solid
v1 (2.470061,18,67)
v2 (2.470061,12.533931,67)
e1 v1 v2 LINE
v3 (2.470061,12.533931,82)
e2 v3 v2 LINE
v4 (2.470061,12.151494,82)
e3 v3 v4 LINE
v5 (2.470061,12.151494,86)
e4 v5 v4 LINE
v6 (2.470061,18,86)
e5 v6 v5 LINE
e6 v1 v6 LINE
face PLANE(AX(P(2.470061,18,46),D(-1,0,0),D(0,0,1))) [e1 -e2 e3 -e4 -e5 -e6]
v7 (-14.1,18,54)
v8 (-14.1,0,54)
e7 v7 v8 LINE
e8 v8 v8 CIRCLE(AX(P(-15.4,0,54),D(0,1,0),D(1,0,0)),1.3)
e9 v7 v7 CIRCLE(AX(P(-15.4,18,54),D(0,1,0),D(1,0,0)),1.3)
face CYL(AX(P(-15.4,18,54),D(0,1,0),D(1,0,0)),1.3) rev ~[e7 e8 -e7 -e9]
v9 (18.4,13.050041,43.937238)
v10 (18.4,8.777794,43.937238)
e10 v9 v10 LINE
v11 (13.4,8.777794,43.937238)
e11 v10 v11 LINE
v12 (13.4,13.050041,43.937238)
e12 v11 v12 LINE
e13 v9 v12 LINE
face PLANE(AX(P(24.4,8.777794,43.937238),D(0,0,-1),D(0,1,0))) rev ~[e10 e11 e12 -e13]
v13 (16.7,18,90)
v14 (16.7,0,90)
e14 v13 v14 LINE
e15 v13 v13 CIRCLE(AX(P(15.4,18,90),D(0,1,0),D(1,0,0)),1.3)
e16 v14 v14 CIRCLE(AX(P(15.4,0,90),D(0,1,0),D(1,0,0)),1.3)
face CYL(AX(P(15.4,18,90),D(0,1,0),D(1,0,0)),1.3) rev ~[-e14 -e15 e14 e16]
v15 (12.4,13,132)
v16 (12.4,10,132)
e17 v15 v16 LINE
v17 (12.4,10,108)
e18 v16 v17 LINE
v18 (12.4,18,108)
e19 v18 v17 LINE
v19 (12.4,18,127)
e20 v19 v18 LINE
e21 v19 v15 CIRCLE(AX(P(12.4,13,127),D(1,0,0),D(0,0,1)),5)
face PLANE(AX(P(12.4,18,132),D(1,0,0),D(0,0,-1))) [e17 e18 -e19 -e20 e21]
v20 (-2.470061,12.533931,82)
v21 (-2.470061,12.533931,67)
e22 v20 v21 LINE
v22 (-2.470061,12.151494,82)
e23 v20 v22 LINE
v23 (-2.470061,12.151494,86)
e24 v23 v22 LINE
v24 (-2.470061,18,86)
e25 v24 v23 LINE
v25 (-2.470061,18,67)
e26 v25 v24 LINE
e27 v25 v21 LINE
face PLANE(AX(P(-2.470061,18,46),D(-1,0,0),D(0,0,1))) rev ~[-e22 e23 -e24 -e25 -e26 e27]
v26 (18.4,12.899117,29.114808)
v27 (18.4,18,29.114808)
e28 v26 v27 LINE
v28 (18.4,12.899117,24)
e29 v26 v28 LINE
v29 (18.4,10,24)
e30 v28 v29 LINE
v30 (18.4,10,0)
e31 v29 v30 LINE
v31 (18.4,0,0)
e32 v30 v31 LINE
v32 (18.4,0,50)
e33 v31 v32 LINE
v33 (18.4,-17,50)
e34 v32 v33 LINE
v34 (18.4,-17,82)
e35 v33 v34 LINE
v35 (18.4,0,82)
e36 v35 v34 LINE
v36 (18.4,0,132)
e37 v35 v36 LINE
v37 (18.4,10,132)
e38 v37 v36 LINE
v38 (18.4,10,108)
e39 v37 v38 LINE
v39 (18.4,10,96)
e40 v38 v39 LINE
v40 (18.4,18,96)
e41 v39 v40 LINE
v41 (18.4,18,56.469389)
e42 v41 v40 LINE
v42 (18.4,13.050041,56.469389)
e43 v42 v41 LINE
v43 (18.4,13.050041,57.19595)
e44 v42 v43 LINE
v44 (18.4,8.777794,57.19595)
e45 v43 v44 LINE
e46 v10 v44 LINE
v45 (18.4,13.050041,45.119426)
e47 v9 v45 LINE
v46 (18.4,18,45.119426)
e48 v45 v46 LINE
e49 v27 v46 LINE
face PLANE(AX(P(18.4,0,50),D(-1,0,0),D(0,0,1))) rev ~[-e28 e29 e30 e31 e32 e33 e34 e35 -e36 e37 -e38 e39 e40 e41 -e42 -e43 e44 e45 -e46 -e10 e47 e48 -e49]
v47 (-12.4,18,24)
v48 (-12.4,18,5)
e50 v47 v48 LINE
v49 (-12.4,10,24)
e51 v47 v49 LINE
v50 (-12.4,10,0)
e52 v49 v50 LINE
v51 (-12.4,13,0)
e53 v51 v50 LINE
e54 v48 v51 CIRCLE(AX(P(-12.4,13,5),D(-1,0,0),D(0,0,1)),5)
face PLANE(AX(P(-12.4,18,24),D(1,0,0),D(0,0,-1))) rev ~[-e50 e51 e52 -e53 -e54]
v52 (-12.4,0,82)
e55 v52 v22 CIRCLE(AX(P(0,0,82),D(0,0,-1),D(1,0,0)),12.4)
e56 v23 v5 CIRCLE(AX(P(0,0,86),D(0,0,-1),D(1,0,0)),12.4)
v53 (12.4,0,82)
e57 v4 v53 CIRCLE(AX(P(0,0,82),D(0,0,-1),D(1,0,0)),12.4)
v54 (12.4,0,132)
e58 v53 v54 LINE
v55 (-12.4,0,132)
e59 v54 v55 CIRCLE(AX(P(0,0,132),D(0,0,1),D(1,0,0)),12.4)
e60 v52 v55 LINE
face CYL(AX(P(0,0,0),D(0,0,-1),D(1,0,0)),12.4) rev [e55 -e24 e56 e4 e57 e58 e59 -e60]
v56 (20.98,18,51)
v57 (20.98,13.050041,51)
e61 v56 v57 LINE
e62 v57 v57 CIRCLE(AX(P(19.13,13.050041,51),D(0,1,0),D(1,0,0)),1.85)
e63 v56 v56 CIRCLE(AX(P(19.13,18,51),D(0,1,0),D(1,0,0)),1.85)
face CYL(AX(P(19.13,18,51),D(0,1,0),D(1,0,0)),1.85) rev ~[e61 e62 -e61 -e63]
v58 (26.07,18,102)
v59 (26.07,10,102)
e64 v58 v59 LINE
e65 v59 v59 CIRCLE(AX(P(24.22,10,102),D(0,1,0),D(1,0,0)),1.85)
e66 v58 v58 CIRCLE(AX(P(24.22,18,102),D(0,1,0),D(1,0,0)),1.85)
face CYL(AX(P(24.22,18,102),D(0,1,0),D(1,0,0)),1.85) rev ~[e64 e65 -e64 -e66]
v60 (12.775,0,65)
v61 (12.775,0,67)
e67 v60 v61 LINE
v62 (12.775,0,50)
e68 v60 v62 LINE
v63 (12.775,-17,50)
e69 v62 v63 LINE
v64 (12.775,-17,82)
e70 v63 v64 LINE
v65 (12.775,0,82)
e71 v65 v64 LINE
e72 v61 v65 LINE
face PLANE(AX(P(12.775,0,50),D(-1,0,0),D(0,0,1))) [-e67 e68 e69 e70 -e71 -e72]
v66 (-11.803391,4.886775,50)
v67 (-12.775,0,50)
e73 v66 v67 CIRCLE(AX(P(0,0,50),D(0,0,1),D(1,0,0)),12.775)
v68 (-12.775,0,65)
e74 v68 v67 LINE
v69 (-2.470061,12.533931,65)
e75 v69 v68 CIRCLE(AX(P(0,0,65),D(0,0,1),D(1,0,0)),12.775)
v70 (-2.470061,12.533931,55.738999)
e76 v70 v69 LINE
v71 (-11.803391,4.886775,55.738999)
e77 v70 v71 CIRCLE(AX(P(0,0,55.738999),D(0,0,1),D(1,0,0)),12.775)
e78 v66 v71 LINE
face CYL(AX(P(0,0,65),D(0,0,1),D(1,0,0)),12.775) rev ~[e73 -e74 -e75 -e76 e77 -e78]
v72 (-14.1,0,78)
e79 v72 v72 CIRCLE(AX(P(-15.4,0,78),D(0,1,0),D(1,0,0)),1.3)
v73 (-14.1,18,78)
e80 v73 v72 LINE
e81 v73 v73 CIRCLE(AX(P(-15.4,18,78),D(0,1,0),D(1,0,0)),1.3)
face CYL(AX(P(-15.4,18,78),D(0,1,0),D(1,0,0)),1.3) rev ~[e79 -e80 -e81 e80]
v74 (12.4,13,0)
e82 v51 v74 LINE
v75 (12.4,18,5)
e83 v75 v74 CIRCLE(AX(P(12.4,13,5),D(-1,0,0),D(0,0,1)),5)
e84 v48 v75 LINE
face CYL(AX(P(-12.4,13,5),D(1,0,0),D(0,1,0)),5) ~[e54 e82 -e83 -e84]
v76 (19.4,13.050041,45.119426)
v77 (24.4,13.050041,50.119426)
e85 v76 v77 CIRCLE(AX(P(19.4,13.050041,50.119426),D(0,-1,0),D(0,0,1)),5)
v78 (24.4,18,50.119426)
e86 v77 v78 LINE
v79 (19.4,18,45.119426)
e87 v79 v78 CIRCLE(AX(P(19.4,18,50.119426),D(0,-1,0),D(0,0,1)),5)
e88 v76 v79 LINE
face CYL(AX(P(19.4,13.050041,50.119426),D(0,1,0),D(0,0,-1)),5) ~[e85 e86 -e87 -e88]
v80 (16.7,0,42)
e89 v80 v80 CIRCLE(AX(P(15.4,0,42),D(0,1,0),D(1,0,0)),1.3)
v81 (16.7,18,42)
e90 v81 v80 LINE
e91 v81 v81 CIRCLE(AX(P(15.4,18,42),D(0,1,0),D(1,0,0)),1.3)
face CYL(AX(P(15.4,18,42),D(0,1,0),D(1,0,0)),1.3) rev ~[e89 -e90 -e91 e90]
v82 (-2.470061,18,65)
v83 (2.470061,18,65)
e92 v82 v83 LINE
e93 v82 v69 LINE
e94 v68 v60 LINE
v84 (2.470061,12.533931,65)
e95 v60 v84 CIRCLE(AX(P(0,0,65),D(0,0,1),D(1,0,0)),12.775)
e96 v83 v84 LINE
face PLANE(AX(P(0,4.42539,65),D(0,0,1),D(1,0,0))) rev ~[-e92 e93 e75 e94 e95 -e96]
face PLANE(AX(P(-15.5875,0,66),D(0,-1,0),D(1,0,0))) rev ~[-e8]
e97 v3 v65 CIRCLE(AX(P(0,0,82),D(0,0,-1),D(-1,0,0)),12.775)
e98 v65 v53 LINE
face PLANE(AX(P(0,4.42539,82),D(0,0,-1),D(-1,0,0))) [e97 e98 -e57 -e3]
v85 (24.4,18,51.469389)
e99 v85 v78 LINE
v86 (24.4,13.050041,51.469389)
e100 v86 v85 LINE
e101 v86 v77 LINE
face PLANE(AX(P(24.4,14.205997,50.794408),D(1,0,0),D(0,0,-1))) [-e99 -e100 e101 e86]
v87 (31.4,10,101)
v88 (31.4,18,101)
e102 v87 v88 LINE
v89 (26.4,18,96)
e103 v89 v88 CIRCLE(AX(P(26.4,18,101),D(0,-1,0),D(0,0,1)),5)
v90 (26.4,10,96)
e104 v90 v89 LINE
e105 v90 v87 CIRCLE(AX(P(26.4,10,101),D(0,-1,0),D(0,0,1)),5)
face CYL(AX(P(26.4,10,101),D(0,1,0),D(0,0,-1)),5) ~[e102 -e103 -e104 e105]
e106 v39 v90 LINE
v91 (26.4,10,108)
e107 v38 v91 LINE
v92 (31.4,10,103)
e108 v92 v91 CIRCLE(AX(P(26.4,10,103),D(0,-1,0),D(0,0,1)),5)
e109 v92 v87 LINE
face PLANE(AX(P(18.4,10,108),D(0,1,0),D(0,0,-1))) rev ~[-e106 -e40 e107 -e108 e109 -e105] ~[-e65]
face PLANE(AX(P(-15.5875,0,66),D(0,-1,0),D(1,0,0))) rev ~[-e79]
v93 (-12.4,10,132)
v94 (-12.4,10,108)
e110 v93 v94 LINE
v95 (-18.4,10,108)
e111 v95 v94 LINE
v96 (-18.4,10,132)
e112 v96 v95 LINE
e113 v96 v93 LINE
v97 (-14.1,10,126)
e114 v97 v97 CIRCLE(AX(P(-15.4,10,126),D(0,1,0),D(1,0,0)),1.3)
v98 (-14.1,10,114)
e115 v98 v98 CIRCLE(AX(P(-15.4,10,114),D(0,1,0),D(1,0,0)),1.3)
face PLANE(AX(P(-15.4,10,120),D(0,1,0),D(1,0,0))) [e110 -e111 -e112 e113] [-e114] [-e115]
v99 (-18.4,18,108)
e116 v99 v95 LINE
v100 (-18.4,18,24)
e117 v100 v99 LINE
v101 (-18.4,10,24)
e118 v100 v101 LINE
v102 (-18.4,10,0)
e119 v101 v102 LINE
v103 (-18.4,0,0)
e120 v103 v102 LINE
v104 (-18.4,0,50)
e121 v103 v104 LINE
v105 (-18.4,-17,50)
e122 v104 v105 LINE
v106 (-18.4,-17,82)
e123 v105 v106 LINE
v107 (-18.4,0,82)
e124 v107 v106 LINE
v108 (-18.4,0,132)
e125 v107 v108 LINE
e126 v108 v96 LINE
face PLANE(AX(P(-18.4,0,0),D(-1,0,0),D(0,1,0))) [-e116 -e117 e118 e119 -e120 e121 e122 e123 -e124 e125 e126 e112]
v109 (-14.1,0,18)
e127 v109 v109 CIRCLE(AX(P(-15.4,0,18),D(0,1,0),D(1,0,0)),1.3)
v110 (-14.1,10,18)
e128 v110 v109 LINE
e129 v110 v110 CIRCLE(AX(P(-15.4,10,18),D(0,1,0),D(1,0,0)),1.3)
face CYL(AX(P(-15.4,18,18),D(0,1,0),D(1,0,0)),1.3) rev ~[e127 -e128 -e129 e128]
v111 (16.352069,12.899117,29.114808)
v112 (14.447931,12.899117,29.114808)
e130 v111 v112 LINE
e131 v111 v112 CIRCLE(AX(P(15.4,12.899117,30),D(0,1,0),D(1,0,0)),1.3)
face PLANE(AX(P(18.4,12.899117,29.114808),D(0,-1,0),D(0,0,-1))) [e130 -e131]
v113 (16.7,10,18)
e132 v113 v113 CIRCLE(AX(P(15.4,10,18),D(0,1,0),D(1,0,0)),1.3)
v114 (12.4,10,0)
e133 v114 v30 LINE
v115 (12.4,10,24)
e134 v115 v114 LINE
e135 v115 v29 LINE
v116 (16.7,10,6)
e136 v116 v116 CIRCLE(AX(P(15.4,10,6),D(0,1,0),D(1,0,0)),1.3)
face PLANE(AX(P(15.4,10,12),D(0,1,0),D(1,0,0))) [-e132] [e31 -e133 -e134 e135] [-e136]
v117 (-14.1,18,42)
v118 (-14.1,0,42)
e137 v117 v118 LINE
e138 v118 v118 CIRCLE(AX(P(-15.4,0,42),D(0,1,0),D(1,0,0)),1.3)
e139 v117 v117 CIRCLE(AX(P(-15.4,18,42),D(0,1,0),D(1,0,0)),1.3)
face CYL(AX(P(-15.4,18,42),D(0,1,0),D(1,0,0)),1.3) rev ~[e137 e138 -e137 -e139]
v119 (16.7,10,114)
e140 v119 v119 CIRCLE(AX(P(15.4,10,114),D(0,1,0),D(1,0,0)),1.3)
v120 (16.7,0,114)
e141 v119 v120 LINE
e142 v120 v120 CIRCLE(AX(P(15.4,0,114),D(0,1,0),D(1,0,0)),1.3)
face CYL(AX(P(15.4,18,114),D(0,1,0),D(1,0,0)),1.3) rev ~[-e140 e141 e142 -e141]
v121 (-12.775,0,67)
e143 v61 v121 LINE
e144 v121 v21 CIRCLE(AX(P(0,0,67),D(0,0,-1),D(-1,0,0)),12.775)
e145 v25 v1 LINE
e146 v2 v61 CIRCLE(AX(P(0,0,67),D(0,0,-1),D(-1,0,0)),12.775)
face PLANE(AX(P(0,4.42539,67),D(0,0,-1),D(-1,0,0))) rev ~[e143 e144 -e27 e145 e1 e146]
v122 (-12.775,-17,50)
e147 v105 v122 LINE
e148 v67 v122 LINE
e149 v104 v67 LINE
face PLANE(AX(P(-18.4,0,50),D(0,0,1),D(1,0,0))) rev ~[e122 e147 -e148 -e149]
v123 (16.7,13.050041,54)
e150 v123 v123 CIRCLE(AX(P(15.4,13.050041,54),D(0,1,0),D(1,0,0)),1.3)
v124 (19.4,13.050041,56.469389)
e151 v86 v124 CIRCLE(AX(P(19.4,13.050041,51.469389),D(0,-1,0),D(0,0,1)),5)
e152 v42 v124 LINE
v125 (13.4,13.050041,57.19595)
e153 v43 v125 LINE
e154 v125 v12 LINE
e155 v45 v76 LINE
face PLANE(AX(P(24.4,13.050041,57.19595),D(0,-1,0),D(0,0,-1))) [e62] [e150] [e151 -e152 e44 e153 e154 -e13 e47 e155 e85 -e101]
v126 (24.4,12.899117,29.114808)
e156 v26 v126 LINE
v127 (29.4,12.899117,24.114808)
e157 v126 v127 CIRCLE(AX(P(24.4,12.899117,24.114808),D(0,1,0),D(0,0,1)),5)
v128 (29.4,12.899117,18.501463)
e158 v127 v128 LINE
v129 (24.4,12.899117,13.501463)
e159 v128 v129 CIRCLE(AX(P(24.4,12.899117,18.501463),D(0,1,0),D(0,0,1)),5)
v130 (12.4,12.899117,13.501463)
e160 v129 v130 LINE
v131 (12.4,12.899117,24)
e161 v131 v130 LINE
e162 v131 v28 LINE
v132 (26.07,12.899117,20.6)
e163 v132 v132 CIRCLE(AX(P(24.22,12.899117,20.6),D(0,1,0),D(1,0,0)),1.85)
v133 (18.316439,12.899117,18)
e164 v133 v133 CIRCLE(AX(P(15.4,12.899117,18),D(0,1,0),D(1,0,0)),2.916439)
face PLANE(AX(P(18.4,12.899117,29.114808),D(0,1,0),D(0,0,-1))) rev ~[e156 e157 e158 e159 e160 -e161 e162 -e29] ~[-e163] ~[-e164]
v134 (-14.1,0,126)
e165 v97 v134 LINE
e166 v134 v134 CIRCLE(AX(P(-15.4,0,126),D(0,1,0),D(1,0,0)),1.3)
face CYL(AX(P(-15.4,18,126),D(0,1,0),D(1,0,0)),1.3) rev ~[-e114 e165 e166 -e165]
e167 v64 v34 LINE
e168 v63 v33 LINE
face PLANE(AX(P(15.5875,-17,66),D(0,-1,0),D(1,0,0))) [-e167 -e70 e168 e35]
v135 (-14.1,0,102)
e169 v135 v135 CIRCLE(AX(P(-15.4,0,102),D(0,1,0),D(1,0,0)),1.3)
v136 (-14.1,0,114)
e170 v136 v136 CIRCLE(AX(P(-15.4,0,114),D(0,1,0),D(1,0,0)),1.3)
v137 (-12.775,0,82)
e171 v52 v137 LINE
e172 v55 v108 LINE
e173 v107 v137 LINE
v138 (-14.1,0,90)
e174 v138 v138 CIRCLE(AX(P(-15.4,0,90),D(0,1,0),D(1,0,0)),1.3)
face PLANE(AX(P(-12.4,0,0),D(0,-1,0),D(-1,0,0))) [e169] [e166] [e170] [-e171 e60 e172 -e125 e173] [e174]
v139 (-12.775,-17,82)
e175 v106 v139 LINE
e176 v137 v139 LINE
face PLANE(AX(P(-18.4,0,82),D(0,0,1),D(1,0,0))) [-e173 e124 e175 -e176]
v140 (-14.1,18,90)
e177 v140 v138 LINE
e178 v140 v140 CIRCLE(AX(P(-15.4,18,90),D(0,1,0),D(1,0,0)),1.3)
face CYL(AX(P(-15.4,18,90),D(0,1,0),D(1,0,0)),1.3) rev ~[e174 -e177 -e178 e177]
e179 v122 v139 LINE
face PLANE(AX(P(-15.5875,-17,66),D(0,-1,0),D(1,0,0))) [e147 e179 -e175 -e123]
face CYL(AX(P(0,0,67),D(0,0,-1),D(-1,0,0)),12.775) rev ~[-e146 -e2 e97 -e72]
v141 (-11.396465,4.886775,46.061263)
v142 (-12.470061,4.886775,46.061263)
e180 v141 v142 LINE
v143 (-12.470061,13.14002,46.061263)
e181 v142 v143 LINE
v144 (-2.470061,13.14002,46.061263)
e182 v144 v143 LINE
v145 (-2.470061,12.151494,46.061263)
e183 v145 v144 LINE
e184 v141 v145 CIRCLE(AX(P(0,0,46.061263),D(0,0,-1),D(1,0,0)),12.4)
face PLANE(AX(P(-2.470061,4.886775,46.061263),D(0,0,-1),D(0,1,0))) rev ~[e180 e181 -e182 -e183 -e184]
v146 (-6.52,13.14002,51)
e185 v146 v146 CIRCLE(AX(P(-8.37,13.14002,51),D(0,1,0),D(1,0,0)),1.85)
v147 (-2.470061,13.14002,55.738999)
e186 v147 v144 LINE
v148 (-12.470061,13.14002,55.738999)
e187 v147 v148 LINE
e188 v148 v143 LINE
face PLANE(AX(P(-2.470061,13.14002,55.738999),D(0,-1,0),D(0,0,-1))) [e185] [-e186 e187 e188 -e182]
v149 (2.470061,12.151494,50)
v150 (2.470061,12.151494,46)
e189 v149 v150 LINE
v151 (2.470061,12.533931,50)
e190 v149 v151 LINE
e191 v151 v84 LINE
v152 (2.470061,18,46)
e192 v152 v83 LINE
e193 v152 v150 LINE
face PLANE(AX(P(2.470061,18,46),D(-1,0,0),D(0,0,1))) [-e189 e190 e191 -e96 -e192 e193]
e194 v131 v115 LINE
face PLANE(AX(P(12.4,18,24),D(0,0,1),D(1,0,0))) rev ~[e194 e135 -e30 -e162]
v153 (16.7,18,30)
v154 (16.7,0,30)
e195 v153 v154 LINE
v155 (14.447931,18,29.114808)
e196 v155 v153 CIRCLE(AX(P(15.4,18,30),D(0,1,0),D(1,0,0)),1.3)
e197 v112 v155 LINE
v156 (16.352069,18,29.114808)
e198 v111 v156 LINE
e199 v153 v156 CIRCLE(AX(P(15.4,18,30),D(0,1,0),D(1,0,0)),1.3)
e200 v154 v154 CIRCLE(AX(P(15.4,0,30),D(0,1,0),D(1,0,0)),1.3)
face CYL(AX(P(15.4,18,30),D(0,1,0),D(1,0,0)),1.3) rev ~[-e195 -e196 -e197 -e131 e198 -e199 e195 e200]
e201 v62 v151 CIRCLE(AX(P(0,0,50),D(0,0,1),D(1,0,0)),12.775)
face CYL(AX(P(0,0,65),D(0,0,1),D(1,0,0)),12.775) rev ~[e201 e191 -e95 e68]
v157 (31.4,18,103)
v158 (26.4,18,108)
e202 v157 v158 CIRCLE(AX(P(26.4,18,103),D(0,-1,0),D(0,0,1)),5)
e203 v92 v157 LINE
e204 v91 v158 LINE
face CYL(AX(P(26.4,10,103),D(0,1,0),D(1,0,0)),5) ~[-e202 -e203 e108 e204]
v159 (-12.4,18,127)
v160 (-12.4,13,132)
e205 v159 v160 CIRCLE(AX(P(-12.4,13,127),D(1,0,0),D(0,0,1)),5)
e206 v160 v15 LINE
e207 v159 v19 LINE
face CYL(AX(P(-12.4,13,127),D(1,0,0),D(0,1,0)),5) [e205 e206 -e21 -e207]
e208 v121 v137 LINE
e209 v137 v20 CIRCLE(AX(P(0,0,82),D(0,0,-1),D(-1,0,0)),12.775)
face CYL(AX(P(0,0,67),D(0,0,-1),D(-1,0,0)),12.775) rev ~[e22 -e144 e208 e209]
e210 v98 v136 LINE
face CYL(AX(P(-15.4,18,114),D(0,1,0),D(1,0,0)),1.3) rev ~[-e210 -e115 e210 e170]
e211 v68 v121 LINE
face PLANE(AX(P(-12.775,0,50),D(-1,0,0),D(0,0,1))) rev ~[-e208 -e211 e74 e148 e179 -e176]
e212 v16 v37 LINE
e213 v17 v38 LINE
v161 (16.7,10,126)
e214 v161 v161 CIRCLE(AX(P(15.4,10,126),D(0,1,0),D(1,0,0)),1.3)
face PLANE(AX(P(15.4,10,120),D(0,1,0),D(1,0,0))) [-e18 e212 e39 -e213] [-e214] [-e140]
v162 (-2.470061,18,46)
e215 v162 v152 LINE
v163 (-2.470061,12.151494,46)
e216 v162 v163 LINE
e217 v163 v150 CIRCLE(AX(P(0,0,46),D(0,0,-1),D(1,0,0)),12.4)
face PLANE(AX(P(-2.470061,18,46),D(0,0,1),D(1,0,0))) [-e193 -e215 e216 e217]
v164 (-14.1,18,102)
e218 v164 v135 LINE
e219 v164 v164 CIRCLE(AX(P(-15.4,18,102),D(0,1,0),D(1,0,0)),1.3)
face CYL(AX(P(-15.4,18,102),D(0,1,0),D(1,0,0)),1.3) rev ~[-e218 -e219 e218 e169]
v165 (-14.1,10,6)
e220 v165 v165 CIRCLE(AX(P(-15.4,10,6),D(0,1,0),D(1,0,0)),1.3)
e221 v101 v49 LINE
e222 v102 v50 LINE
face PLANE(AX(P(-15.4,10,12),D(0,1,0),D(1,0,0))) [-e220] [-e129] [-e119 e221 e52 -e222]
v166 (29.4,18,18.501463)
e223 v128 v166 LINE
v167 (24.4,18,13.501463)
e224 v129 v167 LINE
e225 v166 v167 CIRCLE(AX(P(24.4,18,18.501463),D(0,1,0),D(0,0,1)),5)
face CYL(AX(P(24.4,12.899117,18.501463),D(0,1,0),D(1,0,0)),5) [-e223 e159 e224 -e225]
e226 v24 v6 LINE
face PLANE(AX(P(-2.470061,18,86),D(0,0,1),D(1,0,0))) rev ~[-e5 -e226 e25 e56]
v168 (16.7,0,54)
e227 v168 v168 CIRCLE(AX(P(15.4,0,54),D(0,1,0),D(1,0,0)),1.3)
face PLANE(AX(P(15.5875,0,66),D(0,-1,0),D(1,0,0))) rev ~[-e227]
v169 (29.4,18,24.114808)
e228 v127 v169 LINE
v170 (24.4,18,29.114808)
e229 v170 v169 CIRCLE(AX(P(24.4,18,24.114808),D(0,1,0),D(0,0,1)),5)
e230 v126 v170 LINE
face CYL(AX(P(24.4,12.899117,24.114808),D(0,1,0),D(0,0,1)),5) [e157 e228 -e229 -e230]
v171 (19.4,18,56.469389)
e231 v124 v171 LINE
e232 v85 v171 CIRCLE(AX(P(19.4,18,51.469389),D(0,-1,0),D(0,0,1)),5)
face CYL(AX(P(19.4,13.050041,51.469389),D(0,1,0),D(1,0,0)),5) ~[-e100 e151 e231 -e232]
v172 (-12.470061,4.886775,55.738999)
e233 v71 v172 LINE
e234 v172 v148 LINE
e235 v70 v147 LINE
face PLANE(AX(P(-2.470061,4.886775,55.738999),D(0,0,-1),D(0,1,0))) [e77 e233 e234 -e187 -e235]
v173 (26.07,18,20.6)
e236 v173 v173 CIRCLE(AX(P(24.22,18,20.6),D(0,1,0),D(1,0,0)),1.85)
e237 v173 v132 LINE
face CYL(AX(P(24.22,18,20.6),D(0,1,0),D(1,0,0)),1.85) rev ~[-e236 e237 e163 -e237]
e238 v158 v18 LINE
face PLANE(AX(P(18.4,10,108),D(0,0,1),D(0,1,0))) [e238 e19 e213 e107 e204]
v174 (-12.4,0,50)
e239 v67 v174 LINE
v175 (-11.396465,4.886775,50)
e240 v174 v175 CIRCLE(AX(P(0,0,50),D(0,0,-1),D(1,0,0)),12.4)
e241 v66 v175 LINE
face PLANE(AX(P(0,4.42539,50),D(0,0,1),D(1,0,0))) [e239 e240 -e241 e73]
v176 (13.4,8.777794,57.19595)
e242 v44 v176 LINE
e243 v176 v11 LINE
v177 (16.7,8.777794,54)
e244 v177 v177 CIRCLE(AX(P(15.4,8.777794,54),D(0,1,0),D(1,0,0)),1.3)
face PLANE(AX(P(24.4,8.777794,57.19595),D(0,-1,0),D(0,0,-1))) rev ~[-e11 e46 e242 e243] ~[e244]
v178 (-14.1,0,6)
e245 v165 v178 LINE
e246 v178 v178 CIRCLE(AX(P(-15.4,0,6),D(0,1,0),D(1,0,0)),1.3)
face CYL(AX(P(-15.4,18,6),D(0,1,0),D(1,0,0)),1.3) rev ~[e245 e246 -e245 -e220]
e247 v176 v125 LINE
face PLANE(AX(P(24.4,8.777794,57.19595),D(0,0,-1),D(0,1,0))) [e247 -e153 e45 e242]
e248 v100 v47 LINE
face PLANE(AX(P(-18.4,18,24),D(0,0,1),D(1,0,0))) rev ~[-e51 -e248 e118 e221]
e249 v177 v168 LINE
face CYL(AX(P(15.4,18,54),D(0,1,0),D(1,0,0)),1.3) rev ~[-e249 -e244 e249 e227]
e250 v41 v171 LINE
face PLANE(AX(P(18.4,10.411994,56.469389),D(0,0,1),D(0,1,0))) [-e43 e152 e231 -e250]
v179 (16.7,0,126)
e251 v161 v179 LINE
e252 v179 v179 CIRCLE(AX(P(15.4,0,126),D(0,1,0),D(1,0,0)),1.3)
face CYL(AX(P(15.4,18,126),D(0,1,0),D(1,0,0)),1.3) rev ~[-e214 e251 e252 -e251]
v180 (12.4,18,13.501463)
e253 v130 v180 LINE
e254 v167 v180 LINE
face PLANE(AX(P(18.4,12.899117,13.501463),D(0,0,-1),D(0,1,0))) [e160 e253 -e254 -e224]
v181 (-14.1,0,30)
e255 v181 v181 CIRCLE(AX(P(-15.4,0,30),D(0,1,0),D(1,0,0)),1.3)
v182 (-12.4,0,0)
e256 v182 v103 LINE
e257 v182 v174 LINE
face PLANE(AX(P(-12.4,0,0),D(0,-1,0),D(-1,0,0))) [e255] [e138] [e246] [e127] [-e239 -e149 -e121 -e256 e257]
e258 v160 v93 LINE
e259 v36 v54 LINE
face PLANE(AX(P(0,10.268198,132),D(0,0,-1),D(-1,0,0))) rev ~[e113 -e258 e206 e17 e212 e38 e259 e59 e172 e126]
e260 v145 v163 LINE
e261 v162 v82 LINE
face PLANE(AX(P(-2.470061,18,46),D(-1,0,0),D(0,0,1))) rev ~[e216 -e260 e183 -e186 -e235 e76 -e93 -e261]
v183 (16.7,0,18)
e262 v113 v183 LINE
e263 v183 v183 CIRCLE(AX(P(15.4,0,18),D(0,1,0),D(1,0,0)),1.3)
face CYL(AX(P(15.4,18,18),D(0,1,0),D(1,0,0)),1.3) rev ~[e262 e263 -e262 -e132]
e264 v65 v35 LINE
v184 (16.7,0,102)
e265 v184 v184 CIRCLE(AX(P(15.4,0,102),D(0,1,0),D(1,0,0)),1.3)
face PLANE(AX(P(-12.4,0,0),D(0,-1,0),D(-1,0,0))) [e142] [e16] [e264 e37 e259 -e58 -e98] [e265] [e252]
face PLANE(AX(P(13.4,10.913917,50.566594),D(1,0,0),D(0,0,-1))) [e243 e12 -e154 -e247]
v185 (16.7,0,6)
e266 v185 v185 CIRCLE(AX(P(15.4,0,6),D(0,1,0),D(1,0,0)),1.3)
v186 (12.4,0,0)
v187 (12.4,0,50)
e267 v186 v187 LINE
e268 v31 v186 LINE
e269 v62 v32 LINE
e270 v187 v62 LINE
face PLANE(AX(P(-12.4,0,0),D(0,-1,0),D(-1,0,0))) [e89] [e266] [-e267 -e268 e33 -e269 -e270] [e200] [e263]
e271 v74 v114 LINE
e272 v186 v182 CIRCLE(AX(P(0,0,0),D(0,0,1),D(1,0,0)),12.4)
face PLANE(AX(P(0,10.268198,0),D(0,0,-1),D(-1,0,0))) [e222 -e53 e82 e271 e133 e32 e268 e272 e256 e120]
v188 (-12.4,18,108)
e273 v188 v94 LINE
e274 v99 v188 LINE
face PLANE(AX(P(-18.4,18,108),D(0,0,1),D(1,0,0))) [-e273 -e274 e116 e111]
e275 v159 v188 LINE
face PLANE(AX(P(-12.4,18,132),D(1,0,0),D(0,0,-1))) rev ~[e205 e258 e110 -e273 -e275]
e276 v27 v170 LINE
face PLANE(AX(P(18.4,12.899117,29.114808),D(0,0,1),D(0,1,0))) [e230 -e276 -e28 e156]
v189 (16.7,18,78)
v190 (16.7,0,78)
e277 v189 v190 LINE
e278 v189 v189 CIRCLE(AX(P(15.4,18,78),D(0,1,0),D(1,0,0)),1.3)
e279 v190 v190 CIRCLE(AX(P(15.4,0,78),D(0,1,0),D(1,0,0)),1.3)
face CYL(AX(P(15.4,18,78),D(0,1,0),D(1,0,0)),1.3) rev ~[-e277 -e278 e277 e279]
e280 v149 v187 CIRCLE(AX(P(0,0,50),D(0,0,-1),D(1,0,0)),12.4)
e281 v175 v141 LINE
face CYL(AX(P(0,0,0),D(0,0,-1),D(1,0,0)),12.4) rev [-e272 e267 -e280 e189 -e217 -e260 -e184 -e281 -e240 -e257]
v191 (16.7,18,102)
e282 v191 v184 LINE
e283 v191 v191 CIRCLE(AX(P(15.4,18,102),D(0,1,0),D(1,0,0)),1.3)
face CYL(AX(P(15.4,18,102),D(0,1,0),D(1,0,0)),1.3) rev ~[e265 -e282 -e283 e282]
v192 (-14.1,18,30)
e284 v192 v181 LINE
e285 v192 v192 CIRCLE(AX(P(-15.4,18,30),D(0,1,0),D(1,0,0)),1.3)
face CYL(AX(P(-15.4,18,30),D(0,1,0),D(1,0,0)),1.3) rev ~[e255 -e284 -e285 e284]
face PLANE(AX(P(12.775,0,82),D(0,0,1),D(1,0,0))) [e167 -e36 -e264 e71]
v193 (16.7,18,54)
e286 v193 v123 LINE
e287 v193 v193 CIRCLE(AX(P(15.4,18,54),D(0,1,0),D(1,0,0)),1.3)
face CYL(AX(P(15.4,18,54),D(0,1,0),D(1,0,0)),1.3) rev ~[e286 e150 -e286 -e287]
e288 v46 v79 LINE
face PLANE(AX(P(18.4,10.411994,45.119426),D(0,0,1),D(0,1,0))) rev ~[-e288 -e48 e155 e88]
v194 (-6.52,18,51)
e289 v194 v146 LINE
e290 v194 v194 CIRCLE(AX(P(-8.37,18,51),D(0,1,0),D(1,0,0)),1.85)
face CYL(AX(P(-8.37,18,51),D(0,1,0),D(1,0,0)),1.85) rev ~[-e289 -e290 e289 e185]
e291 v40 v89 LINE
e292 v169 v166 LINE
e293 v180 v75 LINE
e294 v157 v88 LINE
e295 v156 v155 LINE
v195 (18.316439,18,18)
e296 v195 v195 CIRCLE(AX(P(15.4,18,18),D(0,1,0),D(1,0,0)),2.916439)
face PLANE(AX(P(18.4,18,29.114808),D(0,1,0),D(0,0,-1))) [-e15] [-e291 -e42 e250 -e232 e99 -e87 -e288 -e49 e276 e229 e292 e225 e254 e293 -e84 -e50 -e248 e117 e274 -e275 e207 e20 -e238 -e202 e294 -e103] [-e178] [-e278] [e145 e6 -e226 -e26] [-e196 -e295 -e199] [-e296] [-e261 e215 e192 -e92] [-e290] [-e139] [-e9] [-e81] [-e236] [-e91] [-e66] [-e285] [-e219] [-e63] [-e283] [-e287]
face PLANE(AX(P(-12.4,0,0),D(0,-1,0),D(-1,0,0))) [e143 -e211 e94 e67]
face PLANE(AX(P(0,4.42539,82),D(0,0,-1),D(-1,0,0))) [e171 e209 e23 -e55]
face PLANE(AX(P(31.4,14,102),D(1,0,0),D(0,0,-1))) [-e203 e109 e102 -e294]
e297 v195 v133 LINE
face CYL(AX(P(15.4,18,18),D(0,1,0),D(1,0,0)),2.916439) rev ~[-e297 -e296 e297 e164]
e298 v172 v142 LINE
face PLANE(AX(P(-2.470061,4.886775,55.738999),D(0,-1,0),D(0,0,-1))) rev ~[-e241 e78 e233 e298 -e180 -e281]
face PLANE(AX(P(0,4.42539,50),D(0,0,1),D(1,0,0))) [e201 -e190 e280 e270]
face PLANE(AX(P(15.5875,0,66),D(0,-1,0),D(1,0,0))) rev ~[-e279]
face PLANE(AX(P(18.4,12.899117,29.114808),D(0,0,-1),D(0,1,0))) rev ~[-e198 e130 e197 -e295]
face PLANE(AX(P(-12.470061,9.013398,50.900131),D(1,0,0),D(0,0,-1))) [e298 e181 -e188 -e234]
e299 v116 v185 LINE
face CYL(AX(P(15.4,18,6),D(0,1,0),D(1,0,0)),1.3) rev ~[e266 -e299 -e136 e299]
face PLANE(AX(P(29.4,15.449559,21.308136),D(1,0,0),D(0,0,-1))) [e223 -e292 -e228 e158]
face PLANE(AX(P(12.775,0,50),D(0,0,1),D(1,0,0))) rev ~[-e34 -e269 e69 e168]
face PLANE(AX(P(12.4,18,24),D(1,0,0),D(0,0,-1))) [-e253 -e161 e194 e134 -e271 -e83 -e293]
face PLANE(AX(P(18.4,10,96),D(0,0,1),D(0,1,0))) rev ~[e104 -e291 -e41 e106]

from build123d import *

# Parameters (mm, degrees)
BOSS_EXTRU_1_DEPTH      = 132
ESQUISSE3_W             = 4.94012132
ESQUISSE3_H             = 40
ENL_V_MAT_EXTRU_2_DEPTH = 9
ESQUISSE4_R             = 1.3
ENL_V_MAT_EXTRU_3_DEPTH = 18
ESQUISSE5_W             = 6
ESQUISSE5_H             = 24
ENL_V_MAT_EXTRU_4_DEPTH = 8
BOSS_EXTRU_2_REACH      = 38.8
ESQUISSE7_W             = 2
ESQUISSE7_H             = 18
ENL_V_MAT_EXTRU_5_DEPTH = 15
ENL_V_MAT_EXTRU_6_DEPTH = 15
ESQUISSE10_W            = 5.625
ESQUISSE10_H            = 32
BOSS_EXTRU_3_DEPTH      = 17
ESQUISSE12_W            = 12
ESQUISSE12_H            = 8
BOSS_EXTRU_4_DEPTH      = 13
ESQUISSE14_W            = 11.349962924
ESQUISSE14_H            = 7.588006138
BOSS_EXTRU_5_DEPTH      = 6
ESQUISSE16_W            = 13.258712606
ESQUISSE16_H            = 4.272246905
ENL_V_MAT_EXTRU_7_DEPTH = 11
ESQUISSE17_W            = 15.613345165
ESQUISSE17_H            = 5.100882875
BOSS_EXTRU_6_DEPTH      = 11
BOSS_EXTRU_6_DEPTH_BACK = 11
ESQUISSE11_R            = 1.85
ESQUISSE11_R_2          = 1.3
ESQUISSE11_R_3          = 2.916438904
ENL_V_MAT_EXTRU_8_DEPTH = 8
CONG_1_R                = 5
ESQUISSE18_W            = 9.677736186
ESQUISSE18_H            = 8.253244783
ENL_V_MAT_EXTRU_9_DEPTH = 10
CONG_2_R                = 5


with BuildPart() as part:
    # Esquisse1 → Boss.-Extru.1 (new body)
    with BuildSketch(Plane.XY):
        with BuildLine():
            Line((-12.4, 0), (-18.4, 0))
            Line((-18.4, 0), (-18.4, 18))
            Line((-18.4, 18), (18.4, 18))
            Line((18.4, 18), (18.4, 0))
            Line((18.4, 0), (12.4, 0))
            ThreePointArc((12.4, 0), (0, 12.4), (-12.4, 0))
        make_face()
    extrude(amount=BOSS_EXTRU_1_DEPTH)

    # Esquisse3 → Enlèv. mat.-Extru.2 (cut)
    with BuildSketch(Plane.XZ.offset(-18)):
        with Locations((0, 66)):
            Rectangle(ESQUISSE3_W, ESQUISSE3_H)
    extrude(amount=ENL_V_MAT_EXTRU_2_DEPTH, mode=Mode.SUBTRACT)

    # Esquisse4 → Enlèv. mat.-Extru.3 (cut)
    with BuildSketch(Plane(origin=(0, 18, 0), x_dir=(1, 0, 0), z_dir=(0, 1, 0))):
        with Locations((15.4, -6)):
            Circle(ESQUISSE4_R)
        with Locations((15.4, -18)):
            Circle(ESQUISSE4_R)
        with Locations((-15.4, -6)):
            Circle(ESQUISSE4_R)
        with Locations((-15.4, -18)):
            Circle(ESQUISSE4_R)
        with Locations((15.4, -30)):
            Circle(ESQUISSE4_R)
        with Locations((-15.4, -30)):
            Circle(ESQUISSE4_R)
        with Locations((15.4, -42)):
            Circle(ESQUISSE4_R)
        with Locations((-15.4, -42)):
            Circle(ESQUISSE4_R)
        with Locations((15.4, -54)):
            Circle(ESQUISSE4_R)
        with Locations((-15.4, -54)):
            Circle(ESQUISSE4_R)
        with Locations((-15.4, -126)):
            Circle(ESQUISSE4_R)
        with Locations((-15.4, -114)):
            Circle(ESQUISSE4_R)
        with Locations((-15.4, -102)):
            Circle(ESQUISSE4_R)
        with Locations((-15.4, -90)):
            Circle(ESQUISSE4_R)
        with Locations((-15.4, -78)):
            Circle(ESQUISSE4_R)
        with Locations((15.4, -78)):
            Circle(ESQUISSE4_R)
        with Locations((15.4, -90)):
            Circle(ESQUISSE4_R)
        with Locations((15.4, -102)):
            Circle(ESQUISSE4_R)
        with Locations((15.4, -114)):
            Circle(ESQUISSE4_R)
        with Locations((15.4, -126)):
            Circle(ESQUISSE4_R)
    extrude(amount=-ENL_V_MAT_EXTRU_3_DEPTH, mode=Mode.SUBTRACT)

    # Esquisse5 → Enlèv. mat.-Extru.4 (cut)
    with BuildSketch(Plane(origin=(0, 18, 0), x_dir=(1, 0, 0), z_dir=(0, 1, 0))):
        with Locations((15.4, -12)):
            Rectangle(ESQUISSE5_W, ESQUISSE5_H)
        with Locations((-15.4, -120)):
            Rectangle(ESQUISSE5_W, ESQUISSE5_H)
        with Locations((-15.4, -12)):
            Rectangle(ESQUISSE5_W, ESQUISSE5_H)
        with Locations((15.4, -120)):
            Rectangle(ESQUISSE5_W, ESQUISSE5_H)
    extrude(amount=-ENL_V_MAT_EXTRU_4_DEPTH, mode=Mode.SUBTRACT)

    # Esquisse7 → Boss.-Extru.2 (add, up to next)
    with BuildSketch(Plane.ZY.offset(18.4), mode=Mode.PRIVATE) as boss_extru_2_sk1:
        with Locations((66, 9)):
            Rectangle(ESQUISSE7_W, ESQUISSE7_H)
    boss_extru_2_tool1 = extrude(boss_extru_2_sk1.sketch, amount=-BOSS_EXTRU_2_REACH, mode=Mode.PRIVATE) - part.part
    add(boss_extru_2_tool1.solids().sort_by_distance((-18.4, 9, 66))[0])

    # Esquisse8 → Enlèv. mat.-Extru.5 (cut)
    with BuildSketch(Plane(origin=(0, 0, 65), x_dir=(-1, 0, 0), z_dir=(0, 0, -1))):
        with BuildLine():
            Line((12.775, 0), (-12.775, 0))
            ThreePointArc((-12.775, 0), (0, 12.775), (12.775, 0))
        make_face()
    extrude(amount=ENL_V_MAT_EXTRU_5_DEPTH, mode=Mode.SUBTRACT)

    # Esquisse9 → Enlèv. mat.-Extru.6 (cut)
    with BuildSketch(Plane.XY.offset(67)):
        with BuildLine():
            Line((12.775, 0), (-12.775, 0))
            ThreePointArc((-12.775, 0), (0, 12.775), (12.775, 0))
        make_face()
    extrude(amount=ENL_V_MAT_EXTRU_6_DEPTH, mode=Mode.SUBTRACT)

    # Esquisse10 → Boss.-Extru.3 (add)
    with BuildSketch(Plane.XZ):
        with Locations((15.5875, 66)):
            Rectangle(ESQUISSE10_W, ESQUISSE10_H)
        with Locations((-15.5875, 66)):
            Rectangle(ESQUISSE10_W, ESQUISSE10_H)
    extrude(amount=BOSS_EXTRU_3_DEPTH)

    # Esquisse12 → Boss.-Extru.4 (add)
    with BuildSketch(Plane(origin=(18.4, 0, 0), x_dir=(0, 0, -1), z_dir=(1, 0, 0))):
        with Locations((-102, 14)):
            Rectangle(ESQUISSE12_W, ESQUISSE12_H)
    extrude(amount=BOSS_EXTRU_4_DEPTH)

    # Esquisse14 → Boss.-Extru.5 (add)
    with BuildSketch(Plane(origin=(18.4, 0, 0), x_dir=(0, 0, -1), z_dir=(1, 0, 0))):
        with Locations((-50.7944077, 14.205996931)):
            Rectangle(ESQUISSE14_W, ESQUISSE14_H)
    extrude(amount=BOSS_EXTRU_5_DEPTH)

    # Esquisse16 → Enlèv. mat.-Extru.7 (cut)
    with BuildSketch(Plane(origin=(24.4, 0, 0), x_dir=(0, 0, -1), z_dir=(1, 0, 0))):
        with Locations((-50.566594151, 10.91391733)):
            Rectangle(ESQUISSE16_W, ESQUISSE16_H)
    extrude(amount=-ENL_V_MAT_EXTRU_7_DEPTH, mode=Mode.SUBTRACT)

    # Esquisse17 → Boss.-Extru.6 (add, two sides)
    with BuildSketch(Plane(origin=(18.4, 0, 0), x_dir=(0, 0, -1), z_dir=(1, 0, 0))) as boss_extru_6_sk:
        with Locations((-21.308135783, 15.449558563)):
            Rectangle(ESQUISSE17_W, ESQUISSE17_H)
    extrude(amount=BOSS_EXTRU_6_DEPTH)
    extrude(boss_extru_6_sk.sketch, amount=-BOSS_EXTRU_6_DEPTH_BACK)

    # Esquisse11 → Enlèv. mat.-Extru.8 (cut)
    with BuildSketch(Plane(origin=(0, 18, 0), x_dir=(1, 0, 0), z_dir=(0, 1, 0))):
        with Locations((24.22, -102)):
            Circle(ESQUISSE11_R)
        with Locations((19.13, -51)):
            Circle(ESQUISSE11_R)
        with Locations((24.22, -20.6)):
            Circle(ESQUISSE11_R)
        with Locations((-8.37, -51)):
            Circle(ESQUISSE11_R)
        with Locations((15.4, -6)):
            Circle(ESQUISSE11_R_2)
        with Locations((15.4, -18)):
            Circle(ESQUISSE11_R_3)
    extrude(amount=-ENL_V_MAT_EXTRU_8_DEPTH, mode=Mode.SUBTRACT)

    # Congé1
    cong_1_edges = [part.edges().sort_by_distance(p)[0] for p in [
        (29.4, 15.449558563, 13.5014632),
        (24.4, 15.525020391, 45.119426238),
        (24.4, 15.525020391, 56.469389162),
        (31.4, 14, 96),
        (31.4, 14, 108),
        (29.4, 15.449558563, 29.114808365),
    ]]
    fillet(cong_1_edges, radius=CONG_1_R)

    # Esquisse18 → Enlèv. mat.-Extru.9 (cut)
    with BuildSketch(Plane(origin=(-2.47006066, 0, 0), x_dir=(0, 0, -1), z_dir=(1, 0, 0))):
        with Locations((-50.900131157, 9.01339788)):
            Rectangle(ESQUISSE18_W, ESQUISSE18_H)
    extrude(amount=-ENL_V_MAT_EXTRU_9_DEPTH, mode=Mode.SUBTRACT)

    # Congé2
    cong_2_edges = [part.edges().sort_by_distance(p)[0] for p in [
        (0, 18, 0),
        (0, 18, 132),
    ]]
    fillet(cong_2_edges, radius=CONG_2_R)


solid = part.part
